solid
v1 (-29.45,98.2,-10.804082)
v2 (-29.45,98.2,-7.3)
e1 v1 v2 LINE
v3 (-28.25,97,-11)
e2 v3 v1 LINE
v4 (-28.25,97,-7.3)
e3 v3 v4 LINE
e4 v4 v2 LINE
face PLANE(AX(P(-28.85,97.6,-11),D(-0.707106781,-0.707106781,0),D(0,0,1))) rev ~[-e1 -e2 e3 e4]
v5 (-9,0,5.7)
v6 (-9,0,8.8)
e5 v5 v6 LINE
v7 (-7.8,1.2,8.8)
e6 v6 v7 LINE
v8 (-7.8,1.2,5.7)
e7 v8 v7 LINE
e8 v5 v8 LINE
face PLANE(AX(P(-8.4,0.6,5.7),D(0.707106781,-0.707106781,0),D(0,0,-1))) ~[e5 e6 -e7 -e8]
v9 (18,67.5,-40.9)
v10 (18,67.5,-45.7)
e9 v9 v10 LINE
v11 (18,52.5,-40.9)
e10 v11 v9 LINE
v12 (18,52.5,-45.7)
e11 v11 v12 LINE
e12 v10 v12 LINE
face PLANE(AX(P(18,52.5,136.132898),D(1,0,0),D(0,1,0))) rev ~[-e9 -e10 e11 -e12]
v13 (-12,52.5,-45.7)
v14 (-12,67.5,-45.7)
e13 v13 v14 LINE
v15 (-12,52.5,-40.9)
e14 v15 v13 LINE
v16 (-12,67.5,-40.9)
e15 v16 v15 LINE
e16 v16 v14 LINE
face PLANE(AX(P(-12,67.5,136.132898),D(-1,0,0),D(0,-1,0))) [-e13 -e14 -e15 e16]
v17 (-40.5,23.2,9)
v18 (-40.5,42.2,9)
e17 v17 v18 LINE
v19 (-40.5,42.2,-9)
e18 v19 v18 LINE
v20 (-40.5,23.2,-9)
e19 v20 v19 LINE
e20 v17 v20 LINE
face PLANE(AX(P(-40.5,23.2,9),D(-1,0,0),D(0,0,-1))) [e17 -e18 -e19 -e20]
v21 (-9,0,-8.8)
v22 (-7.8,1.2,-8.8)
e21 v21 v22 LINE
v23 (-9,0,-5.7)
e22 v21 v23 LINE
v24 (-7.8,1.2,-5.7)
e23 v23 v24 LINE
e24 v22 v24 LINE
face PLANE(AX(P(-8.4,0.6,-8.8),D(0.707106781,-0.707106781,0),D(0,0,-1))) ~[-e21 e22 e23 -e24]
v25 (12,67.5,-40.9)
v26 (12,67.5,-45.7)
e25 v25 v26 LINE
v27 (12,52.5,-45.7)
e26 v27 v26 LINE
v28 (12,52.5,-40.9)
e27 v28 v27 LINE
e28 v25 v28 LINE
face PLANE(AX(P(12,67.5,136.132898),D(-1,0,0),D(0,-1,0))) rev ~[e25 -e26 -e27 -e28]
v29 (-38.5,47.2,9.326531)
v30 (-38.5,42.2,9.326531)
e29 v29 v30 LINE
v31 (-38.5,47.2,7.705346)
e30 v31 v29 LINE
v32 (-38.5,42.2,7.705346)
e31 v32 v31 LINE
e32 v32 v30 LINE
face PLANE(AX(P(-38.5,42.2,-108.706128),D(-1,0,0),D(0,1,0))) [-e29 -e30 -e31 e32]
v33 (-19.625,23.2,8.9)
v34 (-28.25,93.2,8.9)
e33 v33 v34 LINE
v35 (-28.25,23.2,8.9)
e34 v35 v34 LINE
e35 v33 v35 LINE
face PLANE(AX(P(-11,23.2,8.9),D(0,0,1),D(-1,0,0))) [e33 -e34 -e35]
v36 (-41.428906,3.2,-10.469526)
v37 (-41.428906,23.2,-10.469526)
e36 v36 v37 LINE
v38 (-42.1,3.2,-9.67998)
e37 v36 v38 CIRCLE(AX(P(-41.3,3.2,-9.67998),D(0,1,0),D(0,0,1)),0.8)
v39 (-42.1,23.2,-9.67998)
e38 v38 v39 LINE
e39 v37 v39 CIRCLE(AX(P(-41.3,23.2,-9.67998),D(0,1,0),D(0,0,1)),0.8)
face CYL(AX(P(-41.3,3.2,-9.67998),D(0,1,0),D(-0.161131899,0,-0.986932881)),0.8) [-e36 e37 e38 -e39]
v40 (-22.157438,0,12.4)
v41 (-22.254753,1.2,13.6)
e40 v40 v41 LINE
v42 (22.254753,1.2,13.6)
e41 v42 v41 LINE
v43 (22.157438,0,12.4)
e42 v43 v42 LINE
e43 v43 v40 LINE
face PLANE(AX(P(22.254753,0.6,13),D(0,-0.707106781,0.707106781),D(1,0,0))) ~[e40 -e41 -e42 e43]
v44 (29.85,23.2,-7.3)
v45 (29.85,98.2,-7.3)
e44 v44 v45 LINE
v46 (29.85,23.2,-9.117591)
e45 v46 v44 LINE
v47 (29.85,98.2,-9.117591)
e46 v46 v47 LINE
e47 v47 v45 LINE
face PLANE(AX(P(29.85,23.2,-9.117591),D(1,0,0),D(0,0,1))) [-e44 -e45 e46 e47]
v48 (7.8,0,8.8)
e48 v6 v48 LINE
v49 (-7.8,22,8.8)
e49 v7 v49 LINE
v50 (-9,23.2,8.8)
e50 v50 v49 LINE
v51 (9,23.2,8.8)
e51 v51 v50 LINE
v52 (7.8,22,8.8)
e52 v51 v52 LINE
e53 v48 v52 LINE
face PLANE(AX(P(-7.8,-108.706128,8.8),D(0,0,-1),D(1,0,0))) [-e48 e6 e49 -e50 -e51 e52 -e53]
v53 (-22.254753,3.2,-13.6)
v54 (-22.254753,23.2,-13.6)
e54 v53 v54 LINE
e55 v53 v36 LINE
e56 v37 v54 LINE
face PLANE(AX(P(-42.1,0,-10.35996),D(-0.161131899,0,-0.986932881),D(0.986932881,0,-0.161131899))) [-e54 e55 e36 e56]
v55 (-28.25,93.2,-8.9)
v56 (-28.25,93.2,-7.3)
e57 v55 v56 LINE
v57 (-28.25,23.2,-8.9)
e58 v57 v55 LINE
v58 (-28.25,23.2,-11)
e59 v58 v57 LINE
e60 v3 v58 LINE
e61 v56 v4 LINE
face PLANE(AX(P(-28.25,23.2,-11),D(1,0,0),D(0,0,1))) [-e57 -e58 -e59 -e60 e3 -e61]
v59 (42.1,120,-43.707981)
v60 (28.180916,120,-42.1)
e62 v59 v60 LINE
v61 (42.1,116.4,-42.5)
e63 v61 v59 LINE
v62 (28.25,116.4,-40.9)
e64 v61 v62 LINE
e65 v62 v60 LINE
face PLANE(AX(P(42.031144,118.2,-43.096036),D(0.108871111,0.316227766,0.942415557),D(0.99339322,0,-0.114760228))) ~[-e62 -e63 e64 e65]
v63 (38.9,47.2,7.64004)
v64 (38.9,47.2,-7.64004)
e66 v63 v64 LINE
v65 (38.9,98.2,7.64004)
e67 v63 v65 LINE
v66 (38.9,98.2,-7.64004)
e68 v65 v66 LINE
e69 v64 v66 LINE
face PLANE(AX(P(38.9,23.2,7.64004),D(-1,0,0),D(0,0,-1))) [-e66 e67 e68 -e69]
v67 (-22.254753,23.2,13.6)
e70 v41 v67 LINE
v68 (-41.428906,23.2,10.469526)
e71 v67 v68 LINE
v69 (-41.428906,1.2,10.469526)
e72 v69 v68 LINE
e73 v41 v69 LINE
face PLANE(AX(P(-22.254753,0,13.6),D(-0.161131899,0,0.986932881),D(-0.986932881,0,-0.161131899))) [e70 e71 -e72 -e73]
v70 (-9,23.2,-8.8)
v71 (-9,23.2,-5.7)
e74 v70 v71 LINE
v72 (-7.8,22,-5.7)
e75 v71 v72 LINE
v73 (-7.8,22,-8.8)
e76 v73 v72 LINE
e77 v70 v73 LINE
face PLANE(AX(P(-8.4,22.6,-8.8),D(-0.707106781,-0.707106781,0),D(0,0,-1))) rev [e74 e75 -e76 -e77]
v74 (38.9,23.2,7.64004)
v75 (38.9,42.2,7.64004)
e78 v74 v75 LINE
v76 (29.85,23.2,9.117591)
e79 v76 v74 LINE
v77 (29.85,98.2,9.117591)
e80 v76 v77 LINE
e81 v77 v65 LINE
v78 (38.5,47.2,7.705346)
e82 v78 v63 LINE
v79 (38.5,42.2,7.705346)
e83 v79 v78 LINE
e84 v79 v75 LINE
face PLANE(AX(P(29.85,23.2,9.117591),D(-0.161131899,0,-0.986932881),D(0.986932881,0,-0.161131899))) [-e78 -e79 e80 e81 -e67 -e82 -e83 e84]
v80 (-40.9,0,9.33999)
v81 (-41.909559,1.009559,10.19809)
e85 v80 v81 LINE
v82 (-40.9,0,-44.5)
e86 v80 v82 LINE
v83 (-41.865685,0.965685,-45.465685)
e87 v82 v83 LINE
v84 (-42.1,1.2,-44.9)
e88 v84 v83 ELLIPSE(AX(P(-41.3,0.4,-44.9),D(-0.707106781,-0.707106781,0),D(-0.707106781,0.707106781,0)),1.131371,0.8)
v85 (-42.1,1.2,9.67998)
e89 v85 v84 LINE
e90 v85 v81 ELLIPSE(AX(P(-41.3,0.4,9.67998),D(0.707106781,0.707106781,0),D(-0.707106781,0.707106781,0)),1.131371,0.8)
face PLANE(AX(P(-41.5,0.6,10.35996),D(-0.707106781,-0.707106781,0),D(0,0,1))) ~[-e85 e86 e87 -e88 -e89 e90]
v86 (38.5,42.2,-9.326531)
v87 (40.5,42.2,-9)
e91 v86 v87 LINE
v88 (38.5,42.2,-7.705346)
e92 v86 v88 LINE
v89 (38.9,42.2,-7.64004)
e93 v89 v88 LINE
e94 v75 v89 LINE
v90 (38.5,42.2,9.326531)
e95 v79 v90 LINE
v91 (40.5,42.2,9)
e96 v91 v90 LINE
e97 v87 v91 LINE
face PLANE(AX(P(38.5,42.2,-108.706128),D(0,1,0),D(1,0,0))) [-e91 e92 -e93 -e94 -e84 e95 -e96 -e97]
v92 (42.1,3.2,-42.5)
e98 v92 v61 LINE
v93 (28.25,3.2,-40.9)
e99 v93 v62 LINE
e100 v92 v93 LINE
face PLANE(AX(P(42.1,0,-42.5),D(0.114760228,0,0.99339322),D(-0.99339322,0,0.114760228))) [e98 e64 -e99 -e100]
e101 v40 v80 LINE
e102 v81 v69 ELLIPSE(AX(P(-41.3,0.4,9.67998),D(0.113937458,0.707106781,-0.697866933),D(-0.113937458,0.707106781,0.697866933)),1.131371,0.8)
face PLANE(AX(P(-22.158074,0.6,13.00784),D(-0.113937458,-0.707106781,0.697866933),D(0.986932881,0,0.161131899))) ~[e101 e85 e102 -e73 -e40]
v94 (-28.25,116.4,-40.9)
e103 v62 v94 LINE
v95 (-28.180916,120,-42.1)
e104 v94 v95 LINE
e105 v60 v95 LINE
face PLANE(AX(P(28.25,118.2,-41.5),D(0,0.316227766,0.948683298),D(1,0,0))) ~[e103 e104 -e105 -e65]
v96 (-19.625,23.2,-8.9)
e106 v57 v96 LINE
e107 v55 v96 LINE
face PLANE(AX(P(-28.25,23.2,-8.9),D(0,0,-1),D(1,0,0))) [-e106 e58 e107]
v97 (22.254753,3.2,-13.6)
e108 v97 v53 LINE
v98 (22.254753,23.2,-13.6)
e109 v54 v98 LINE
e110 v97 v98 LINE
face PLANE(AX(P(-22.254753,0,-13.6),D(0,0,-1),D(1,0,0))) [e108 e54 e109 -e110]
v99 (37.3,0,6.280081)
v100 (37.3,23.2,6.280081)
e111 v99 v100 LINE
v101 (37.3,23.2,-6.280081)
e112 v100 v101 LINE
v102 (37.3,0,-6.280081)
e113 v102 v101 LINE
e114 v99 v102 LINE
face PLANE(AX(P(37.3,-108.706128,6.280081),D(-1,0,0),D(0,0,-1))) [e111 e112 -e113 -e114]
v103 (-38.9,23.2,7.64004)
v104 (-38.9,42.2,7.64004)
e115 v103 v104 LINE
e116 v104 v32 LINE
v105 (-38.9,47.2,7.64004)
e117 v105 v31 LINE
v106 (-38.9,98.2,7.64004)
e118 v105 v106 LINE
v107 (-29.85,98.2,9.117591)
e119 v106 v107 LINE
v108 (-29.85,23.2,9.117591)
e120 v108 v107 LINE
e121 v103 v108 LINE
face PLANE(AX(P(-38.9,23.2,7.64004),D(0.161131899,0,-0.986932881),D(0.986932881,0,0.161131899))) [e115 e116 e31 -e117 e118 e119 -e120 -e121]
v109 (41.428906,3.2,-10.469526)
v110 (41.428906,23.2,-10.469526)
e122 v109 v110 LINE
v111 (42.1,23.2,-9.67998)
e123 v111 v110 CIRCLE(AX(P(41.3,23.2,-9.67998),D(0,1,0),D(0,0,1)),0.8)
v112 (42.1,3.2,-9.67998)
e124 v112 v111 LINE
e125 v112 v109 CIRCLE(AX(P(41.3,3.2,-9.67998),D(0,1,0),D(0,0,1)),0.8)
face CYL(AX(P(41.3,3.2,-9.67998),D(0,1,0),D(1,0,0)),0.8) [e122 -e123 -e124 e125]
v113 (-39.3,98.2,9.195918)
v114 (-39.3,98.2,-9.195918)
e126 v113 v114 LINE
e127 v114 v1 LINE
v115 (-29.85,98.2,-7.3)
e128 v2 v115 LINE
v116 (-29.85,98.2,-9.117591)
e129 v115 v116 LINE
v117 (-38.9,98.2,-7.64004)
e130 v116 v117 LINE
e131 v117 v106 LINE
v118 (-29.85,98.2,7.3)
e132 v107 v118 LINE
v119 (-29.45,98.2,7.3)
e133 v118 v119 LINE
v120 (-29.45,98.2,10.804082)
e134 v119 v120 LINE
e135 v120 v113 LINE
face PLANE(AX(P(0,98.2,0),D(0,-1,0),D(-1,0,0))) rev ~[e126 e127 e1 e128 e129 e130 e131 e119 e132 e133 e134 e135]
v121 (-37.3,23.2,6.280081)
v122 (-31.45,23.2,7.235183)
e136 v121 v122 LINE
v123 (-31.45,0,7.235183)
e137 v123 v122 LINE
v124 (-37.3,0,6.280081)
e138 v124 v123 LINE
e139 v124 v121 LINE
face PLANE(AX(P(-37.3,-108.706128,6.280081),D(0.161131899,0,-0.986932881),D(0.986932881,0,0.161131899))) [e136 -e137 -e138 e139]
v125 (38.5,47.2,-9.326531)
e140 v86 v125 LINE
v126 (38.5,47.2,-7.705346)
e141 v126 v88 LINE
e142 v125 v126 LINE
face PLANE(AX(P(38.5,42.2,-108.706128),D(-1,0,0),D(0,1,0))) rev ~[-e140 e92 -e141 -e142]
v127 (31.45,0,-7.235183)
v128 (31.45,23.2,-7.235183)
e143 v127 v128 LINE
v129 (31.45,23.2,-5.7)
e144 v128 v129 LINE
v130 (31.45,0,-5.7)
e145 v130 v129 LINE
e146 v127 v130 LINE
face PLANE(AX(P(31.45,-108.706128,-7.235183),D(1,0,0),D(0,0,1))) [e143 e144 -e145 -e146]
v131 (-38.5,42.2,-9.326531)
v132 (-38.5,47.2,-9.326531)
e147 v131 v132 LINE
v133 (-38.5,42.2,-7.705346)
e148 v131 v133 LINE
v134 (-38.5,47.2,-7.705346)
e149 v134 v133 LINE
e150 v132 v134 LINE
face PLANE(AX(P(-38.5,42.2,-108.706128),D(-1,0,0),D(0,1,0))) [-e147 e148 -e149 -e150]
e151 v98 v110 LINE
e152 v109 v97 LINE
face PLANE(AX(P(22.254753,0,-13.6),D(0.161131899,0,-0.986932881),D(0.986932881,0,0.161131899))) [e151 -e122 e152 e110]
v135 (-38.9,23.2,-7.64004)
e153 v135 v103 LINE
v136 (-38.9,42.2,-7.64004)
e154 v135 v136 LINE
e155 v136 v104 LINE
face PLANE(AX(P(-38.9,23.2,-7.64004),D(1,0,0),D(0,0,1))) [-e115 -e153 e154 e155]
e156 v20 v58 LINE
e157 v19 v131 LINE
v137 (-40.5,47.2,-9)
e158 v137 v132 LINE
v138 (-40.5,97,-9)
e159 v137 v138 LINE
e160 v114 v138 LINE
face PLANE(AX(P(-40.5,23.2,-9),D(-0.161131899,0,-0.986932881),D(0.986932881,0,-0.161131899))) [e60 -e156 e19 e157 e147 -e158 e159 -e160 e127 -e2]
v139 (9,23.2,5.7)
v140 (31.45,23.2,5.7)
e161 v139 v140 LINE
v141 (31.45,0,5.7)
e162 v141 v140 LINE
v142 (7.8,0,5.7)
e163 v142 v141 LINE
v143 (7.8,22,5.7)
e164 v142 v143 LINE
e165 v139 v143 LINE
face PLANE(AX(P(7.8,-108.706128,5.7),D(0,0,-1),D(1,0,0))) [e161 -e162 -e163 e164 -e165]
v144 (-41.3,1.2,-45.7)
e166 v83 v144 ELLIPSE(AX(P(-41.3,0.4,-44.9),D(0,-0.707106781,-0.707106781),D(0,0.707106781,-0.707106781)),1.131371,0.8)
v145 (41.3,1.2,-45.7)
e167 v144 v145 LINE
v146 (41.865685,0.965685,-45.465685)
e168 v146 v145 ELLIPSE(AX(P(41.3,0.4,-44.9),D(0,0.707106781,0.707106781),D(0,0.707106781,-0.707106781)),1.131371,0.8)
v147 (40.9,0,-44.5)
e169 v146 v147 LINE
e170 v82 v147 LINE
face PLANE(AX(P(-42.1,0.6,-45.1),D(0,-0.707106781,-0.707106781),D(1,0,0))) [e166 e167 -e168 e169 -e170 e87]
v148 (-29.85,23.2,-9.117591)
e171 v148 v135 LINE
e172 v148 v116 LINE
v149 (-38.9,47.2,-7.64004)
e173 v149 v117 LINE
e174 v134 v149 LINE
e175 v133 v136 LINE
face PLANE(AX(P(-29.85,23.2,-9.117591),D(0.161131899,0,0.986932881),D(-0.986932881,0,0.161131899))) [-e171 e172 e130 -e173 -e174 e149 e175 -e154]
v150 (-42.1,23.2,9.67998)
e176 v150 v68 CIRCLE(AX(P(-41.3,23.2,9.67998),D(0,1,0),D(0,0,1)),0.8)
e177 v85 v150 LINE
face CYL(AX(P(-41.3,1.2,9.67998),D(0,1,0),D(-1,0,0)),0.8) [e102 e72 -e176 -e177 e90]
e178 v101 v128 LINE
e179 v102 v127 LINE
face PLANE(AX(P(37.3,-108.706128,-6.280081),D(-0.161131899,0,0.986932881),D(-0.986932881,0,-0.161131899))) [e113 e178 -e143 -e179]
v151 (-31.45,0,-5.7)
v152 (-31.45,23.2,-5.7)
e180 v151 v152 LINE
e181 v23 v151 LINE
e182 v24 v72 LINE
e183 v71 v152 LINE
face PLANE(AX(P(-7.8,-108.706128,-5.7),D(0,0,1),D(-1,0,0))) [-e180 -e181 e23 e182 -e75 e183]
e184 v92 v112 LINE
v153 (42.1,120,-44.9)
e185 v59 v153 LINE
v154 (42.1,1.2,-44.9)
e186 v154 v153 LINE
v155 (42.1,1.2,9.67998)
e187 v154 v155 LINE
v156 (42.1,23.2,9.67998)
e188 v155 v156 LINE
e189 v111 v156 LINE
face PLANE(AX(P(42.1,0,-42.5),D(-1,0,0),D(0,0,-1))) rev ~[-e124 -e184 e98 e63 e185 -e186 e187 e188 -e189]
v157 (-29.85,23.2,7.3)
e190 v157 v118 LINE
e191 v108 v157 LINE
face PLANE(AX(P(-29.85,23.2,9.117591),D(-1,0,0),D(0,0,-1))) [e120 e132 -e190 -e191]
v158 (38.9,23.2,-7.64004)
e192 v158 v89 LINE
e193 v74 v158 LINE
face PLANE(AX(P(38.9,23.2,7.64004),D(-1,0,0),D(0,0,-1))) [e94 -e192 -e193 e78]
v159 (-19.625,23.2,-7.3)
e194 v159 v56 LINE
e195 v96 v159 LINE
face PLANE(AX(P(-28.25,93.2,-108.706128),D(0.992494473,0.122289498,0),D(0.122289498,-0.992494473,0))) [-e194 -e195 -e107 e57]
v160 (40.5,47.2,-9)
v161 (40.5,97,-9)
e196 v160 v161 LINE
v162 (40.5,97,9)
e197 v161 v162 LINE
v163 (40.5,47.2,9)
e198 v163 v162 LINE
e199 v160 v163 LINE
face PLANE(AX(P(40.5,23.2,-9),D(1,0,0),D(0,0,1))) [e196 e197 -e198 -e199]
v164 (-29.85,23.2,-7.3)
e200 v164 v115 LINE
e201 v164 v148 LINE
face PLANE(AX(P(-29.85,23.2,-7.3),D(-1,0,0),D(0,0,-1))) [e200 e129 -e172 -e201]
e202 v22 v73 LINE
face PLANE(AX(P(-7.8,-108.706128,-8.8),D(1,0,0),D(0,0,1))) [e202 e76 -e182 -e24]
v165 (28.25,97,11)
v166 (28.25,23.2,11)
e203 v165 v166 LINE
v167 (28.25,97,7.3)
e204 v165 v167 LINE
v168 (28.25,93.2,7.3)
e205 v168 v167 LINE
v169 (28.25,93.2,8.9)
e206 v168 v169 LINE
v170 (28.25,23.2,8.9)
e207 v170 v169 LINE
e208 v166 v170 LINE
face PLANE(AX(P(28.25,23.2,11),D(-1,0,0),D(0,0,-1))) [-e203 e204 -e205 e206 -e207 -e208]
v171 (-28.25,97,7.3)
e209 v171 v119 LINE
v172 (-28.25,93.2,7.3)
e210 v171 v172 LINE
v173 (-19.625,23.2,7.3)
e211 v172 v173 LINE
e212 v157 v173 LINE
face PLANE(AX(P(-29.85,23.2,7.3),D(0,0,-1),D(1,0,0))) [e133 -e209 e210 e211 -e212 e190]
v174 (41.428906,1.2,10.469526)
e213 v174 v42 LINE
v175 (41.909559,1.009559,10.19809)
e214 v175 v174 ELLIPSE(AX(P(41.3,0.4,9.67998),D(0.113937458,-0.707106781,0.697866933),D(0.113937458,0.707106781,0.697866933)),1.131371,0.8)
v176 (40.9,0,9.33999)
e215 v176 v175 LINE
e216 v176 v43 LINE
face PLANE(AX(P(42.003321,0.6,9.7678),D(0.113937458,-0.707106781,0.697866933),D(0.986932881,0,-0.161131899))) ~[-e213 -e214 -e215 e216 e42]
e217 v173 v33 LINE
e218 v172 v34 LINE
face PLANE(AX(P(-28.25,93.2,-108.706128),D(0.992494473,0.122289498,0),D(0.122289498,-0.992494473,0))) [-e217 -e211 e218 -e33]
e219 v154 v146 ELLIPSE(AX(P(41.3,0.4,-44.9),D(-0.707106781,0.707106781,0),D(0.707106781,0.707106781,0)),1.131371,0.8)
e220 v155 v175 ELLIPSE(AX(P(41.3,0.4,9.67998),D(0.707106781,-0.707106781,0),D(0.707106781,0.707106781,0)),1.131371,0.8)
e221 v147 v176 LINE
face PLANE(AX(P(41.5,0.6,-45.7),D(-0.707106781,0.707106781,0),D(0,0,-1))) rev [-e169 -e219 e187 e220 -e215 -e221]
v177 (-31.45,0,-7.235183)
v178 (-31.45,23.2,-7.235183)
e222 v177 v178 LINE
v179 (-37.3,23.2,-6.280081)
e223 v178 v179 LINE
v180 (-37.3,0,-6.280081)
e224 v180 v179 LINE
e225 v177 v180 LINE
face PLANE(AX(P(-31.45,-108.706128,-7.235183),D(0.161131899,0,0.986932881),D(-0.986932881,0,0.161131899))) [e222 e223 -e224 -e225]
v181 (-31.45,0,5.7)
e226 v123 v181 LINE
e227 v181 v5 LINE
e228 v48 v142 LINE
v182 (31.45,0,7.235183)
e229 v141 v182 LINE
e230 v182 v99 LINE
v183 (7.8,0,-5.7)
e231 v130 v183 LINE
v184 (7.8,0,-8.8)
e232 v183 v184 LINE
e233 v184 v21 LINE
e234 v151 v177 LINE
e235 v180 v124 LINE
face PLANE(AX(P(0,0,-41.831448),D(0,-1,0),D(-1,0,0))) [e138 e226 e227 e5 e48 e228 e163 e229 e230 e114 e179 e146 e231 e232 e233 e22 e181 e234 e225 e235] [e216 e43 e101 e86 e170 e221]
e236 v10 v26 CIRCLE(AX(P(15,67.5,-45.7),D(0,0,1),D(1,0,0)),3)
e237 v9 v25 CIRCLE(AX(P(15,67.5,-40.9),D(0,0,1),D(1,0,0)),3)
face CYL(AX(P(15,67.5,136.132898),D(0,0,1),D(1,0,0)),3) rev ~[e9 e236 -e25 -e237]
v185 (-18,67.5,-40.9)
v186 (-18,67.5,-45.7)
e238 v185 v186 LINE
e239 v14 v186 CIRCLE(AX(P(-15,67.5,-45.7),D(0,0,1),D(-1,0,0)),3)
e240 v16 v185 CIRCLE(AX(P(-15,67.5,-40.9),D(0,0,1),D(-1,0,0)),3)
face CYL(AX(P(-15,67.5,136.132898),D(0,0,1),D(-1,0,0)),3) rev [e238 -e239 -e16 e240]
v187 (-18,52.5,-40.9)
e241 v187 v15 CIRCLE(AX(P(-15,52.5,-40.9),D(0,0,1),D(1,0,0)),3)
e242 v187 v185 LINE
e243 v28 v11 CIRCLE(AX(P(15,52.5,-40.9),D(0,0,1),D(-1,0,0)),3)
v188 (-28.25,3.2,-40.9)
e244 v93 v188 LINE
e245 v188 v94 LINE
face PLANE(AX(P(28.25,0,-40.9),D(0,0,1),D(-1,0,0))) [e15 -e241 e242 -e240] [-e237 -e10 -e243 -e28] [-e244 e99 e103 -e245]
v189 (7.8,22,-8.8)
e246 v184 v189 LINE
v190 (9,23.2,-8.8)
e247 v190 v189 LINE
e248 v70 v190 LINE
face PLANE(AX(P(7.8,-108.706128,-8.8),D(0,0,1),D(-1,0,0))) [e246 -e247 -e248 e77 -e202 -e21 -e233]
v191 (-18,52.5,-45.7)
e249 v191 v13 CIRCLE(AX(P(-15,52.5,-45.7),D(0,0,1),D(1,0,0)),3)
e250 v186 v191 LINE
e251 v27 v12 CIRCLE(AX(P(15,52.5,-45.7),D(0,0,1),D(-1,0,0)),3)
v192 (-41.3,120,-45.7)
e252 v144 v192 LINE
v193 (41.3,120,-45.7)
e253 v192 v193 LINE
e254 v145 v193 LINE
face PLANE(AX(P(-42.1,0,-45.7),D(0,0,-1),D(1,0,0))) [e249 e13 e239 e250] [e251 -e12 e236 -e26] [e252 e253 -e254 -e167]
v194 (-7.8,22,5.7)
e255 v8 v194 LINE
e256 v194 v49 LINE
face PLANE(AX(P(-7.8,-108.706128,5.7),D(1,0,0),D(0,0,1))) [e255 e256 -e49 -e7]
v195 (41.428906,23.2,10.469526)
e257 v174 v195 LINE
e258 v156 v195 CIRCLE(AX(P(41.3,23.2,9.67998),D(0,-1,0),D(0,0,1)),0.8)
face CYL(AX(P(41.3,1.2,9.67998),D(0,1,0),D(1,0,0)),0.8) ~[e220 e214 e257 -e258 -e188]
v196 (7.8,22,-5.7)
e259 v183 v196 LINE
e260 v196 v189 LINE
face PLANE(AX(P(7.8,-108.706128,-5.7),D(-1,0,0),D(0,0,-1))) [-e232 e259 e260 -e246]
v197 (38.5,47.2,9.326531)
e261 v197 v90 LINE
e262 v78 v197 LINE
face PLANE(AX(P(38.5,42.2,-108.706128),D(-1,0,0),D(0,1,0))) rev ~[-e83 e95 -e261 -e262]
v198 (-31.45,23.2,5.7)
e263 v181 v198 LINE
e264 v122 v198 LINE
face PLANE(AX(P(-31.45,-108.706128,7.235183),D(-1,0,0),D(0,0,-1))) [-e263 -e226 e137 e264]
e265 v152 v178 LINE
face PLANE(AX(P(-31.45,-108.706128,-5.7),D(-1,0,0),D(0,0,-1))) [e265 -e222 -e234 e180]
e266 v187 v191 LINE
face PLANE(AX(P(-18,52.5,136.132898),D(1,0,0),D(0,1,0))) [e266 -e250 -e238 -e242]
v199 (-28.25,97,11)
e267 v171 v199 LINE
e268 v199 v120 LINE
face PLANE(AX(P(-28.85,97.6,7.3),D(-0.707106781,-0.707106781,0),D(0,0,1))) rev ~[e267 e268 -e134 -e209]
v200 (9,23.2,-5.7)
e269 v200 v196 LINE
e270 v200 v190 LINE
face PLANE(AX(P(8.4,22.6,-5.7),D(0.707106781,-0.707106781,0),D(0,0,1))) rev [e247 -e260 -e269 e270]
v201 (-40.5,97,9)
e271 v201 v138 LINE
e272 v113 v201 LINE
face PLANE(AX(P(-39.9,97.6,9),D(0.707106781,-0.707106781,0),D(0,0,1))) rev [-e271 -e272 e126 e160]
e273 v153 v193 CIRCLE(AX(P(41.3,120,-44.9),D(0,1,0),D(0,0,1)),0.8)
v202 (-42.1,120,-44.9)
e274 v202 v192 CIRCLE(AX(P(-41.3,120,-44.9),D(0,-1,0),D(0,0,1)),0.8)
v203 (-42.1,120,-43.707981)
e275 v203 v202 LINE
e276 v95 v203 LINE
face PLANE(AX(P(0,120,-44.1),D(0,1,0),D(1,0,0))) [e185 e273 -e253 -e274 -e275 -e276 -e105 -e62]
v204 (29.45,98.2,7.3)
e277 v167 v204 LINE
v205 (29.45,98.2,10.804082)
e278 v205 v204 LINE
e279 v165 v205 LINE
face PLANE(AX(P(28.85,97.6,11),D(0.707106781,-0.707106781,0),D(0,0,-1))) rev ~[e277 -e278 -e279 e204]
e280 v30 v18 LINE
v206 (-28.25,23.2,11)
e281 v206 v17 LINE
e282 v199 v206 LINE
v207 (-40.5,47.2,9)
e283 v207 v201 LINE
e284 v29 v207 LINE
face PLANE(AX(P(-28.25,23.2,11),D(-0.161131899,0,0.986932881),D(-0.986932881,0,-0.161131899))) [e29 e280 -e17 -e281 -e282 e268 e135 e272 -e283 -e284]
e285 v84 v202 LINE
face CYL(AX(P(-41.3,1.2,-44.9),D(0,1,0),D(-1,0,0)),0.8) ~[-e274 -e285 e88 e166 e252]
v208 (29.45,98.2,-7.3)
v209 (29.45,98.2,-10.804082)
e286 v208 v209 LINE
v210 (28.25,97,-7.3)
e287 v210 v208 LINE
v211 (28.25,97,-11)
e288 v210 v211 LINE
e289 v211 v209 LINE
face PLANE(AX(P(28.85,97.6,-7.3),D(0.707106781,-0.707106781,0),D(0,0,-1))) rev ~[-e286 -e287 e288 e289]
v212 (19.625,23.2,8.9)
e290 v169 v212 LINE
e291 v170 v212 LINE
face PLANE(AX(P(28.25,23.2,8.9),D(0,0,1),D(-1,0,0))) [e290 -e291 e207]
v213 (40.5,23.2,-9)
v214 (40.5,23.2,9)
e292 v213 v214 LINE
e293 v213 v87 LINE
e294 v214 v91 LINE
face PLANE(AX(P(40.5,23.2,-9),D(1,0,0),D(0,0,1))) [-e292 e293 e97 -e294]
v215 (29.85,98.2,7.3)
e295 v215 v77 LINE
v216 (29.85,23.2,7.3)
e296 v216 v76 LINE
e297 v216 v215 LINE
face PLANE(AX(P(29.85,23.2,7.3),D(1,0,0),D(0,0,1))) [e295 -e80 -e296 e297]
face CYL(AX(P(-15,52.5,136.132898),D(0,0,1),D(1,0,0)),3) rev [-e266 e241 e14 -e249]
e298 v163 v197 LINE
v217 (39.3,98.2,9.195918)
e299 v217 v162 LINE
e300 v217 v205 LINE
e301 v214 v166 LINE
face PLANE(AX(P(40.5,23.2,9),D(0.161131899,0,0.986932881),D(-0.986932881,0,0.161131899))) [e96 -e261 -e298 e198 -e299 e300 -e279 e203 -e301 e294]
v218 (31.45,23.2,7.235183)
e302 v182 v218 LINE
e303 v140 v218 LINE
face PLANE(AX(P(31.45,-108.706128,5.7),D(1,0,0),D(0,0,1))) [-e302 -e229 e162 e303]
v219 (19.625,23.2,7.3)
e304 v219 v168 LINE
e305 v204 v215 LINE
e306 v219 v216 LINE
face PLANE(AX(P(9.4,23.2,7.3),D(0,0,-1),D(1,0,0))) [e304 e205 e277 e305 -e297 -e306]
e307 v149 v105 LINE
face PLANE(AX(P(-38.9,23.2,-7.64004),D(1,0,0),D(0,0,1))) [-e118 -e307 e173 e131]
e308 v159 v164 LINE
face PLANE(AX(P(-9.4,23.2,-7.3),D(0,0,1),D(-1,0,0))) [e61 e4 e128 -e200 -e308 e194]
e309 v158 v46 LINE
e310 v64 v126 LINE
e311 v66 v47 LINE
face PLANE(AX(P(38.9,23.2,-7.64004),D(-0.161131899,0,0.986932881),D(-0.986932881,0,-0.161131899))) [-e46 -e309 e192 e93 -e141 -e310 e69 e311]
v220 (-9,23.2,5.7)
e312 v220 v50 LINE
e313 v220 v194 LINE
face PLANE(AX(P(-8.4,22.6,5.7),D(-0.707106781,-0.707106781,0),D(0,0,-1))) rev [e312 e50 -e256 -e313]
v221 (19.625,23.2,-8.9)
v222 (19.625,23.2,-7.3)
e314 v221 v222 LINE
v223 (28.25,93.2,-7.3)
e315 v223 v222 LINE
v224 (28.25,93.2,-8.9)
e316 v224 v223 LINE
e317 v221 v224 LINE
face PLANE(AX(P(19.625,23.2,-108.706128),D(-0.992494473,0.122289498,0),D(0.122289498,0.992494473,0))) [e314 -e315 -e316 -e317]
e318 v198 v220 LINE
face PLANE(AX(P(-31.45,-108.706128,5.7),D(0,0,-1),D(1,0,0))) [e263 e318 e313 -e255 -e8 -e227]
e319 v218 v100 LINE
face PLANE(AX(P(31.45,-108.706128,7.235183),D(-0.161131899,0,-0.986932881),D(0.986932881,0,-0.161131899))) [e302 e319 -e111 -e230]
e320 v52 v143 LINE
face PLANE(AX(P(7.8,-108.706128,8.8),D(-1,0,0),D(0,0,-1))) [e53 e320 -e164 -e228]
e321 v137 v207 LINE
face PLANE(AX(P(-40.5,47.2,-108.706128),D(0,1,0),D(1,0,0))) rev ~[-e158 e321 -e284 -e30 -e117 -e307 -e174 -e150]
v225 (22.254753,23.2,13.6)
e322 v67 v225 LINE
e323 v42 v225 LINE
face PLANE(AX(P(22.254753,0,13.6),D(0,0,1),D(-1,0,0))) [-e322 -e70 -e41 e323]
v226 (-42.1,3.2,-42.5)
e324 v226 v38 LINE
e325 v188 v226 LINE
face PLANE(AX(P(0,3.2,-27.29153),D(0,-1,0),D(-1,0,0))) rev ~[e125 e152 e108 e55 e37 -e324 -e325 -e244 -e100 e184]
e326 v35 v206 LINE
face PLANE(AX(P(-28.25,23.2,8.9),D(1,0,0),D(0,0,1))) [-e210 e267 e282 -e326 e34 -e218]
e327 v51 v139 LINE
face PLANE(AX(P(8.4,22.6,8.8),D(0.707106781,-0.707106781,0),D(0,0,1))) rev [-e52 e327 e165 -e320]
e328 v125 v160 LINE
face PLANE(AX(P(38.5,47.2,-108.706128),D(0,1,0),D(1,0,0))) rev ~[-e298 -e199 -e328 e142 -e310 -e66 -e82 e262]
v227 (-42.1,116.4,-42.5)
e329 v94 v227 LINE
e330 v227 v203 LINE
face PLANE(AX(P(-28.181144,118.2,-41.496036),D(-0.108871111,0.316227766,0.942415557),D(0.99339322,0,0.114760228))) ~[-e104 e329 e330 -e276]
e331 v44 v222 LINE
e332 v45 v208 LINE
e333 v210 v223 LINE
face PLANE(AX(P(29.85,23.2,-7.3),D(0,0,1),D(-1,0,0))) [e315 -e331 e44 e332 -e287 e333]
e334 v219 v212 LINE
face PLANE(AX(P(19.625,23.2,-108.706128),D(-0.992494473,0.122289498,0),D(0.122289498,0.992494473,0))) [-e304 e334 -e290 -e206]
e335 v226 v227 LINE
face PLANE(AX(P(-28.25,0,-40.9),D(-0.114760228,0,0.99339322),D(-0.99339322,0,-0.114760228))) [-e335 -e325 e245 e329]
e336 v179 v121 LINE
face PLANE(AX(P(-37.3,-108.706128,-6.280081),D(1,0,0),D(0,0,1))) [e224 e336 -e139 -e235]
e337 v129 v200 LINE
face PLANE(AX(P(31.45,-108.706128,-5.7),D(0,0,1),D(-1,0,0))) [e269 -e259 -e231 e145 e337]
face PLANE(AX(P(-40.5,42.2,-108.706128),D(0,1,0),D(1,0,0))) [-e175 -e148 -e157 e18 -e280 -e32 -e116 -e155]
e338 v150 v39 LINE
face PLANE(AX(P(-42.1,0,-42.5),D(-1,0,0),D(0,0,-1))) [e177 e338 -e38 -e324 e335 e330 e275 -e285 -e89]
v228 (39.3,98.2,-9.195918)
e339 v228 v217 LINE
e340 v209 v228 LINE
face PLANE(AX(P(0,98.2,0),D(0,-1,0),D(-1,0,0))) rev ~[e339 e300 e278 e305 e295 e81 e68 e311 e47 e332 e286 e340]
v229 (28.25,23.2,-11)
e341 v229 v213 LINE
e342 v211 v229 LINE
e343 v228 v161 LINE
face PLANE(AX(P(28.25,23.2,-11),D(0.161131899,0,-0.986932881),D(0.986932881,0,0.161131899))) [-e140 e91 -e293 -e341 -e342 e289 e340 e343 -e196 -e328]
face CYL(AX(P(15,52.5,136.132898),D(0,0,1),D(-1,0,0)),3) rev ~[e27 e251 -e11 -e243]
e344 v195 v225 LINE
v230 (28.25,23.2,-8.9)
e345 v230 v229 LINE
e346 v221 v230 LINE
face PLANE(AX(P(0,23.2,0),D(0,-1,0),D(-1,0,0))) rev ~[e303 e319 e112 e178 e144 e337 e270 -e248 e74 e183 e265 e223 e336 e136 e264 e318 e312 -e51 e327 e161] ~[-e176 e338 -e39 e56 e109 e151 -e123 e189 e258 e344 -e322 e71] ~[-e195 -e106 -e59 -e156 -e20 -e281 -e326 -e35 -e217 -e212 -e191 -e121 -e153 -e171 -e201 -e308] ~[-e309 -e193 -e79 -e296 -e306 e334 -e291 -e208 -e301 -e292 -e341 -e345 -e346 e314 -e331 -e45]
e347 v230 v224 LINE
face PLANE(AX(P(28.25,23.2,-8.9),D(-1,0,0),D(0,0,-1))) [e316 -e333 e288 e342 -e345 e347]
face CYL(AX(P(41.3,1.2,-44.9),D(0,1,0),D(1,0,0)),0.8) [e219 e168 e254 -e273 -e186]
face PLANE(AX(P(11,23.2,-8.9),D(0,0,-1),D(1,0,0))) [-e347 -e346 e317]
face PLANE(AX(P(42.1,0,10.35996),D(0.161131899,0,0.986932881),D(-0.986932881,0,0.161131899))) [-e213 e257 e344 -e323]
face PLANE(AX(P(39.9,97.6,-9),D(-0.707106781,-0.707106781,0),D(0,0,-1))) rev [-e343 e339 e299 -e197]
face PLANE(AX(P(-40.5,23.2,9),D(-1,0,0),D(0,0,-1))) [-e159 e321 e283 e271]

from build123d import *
from OCP.BRepFilletAPI import BRepFilletAPI_MakeChamfer

# Parameters (mm, degrees)
BOSS_EXTRUDE1_DEPTH     = 23.2
BOSS_EXTRUDE2_START     = 23.2
BOSS_EXTRUDE2_DEPTH     = 75
CUT_EXTRUDE1_DEPTH      = 108.706127959
CUT_EXTRUDE1_DEPTH_BACK = 108.706127959
SKETCH2_W               = 2
SKETCH2_H               = 5
CUT_EXTRUDE2_DEPTH      = 108.706127959
CUT_EXTRUDE2_DEPTH_BACK = 108.706127959
CUT_EXTRUDE3_DEPTH      = 108.706127959
CUT_EXTRUDE3_DEPTH_BACK = 108.706127959
BOSS_EXTRUDE3_DEPTH     = 3.2
SKETCH5_W               = 84.2
SKETCH5_H               = 3.2
BOSS_EXTRUDE4_DEPTH     = 120
BOSS_EXTRUDE5_DEPTH     = 120
CUT_EXTRUDE4_DEPTH      = 136.132897549
CUT_EXTRUDE4_DEPTH_BACK = 136.132897549
CHAMFER1_SIZE           = 3.6
CHAMFER1_SIZE2          = 1.2
CHAMFER2_SIZE           = 1.2
FILLET1_R               = 0.8


with BuildPart() as part:
    # Sketch1 → Boss-Extrude1 (new body)
    with BuildSketch(Plane(origin=(0, 0, 0), x_dir=(1, 0, 0), z_dir=(0, 1, 0))):
        Polygon((-22.25475327, 13.6), (22.25475327, 13.6), (42.1, 10.359959718), (42.1, -10.359959718), (22.25475327, -13.6), (-22.25475327, -13.6), (-42.1, -10.359959718), (-42.1, 10.359959718), align=None)
    extrude(amount=BOSS_EXTRUDE1_DEPTH)

    # Sketch1<3> → Boss-Extrude2 (add)
    with BuildSketch(Plane(origin=(0, 0, 0), x_dir=(1, 0, 0), z_dir=(0, 1, 0)).offset(BOSS_EXTRUDE2_START)):
        Polygon((40.5, -9), (28.25, -11), (28.25, -8.9), (11, -8.9), (11, -12), (-11, -12), (-11, -8.9), (-28.25, -8.9), (-28.25, -11), (-40.5, -9), (-40.5, 9), (-28.25, 11), (-28.25, 8.9), (-11, 8.9), (-11, 12), (11, 12), (11, 8.9), (28.25, 8.9), (28.25, 11), (40.5, 9), align=None)
        Polygon((-38.9, -7.640040282), (-29.85, -9.117591303), (-29.85, -7.3), (-9.4, -7.3), (-9.4, -10.4), (9.4, -10.4), (9.4, -7.3), (29.85, -7.3), (29.85, -9.117591303), (38.9, -7.640040282), (38.9, 7.640040282), (29.85, 9.117591303), (29.85, 7.3), (9.4, 7.3), (9.4, 10.4), (-9.4, 10.4), (-9.4, 7.3), (-29.85, 7.3), (-29.85, 9.117591303), (-38.9, 7.640040282), align=None, mode=Mode.SUBTRACT)
    extrude(amount=BOSS_EXTRUDE2_DEPTH)

    # Sketch2 → Cut-Extrude1 (cut, two sides: drawn at the far end of the back side and taken through both)
    with BuildSketch(Plane.XY.offset(-CUT_EXTRUDE1_DEPTH_BACK)):
        with Locations((-39.5, 44.7)):
            Rectangle(SKETCH2_W, SKETCH2_H)
        with Locations((39.5, 44.7)):
            Rectangle(SKETCH2_W, SKETCH2_H)
    extrude(amount=CUT_EXTRUDE1_DEPTH + CUT_EXTRUDE1_DEPTH_BACK, mode=Mode.SUBTRACT)

    # Sketch3 → Cut-Extrude2 (cut, two sides: drawn at the far end of the back side and taken through both)
    with BuildSketch(Plane.XY.offset(-CUT_EXTRUDE2_DEPTH_BACK)):
        Polygon((-28.25, 93.2), (-19.625, 23.2), (19.625, 23.2), (28.25, 93.2), (28.25, 98.2), (-28.25, 98.2), align=None)
    extrude(amount=CUT_EXTRUDE2_DEPTH + CUT_EXTRUDE2_DEPTH_BACK, mode=Mode.SUBTRACT)

    # Sketch1<4> → Cut-Extrude3 (cut, two sides: drawn at the far end of the back side and taken through both)
    with BuildSketch(Plane(origin=(0, 0, 0), x_dir=(1, 0, 0), z_dir=(0, 1, 0)).offset(-CUT_EXTRUDE3_DEPTH_BACK)):
        Polygon((-31.45, -5.7), (-7.8, -5.7), (-7.8, -8.8), (7.8, -8.8), (7.8, -5.7), (31.45, -5.7), (31.45, -7.235182606), (37.3, -6.280080565), (37.3, 6.280080565), (31.45, 7.235182606), (31.45, 5.7), (7.8, 5.7), (7.8, 8.8), (-7.8, 8.8), (-7.8, 5.7), (-31.45, 5.7), (-31.45, 7.235182606), (-37.3, 6.280080565), (-37.3, -6.280080565), (-31.45, -7.235182606), align=None)
    extrude(amount=CUT_EXTRUDE3_DEPTH + CUT_EXTRUDE3_DEPTH_BACK, mode=Mode.SUBTRACT)

    # Sketch4 → Boss-Extrude3 (add)
    with BuildSketch(Plane(origin=(0, 0, 0), x_dir=(1, 0, 0), z_dir=(0, 1, 0))):
        Polygon((42.1, 10.359959718), (22.25475327, 13.6), (-22.25475327, 13.6), (-42.1, 10.359959718), (-42.1, 42.5), (42.1, 42.5), align=None)
    extrude(amount=BOSS_EXTRUDE3_DEPTH)

    # Sketch5 → Boss-Extrude4 (add)
    with BuildSketch(Plane(origin=(0, 0, 0), x_dir=(1, 0, 0), z_dir=(0, 1, 0))):
        with Locations((0, 44.1)):
            Rectangle(SKETCH5_W, SKETCH5_H)
    extrude(amount=BOSS_EXTRUDE4_DEPTH)

    # Sketch6 → Boss-Extrude5 (add)
    with BuildSketch(Plane(origin=(0, 0, 0), x_dir=(1, 0, 0), z_dir=(0, 1, 0))):
        Polygon((-42.1, 42.5), (42.1, 42.5), (28.25, 40.9), (-28.25, 40.9), align=None)
    extrude(amount=BOSS_EXTRUDE5_DEPTH)

    # Sketch7 → Cut-Extrude4 (cut, two sides: drawn at the far end of the back side and taken through both)
    with BuildSketch(Plane(origin=(0, 0, 0), x_dir=(-1, 0, 0), z_dir=(0, 0, -1)).offset(-CUT_EXTRUDE4_DEPTH_BACK)):
        with BuildLine():
            Line((-12, 67.5), (-12, 52.5))
            ThreePointArc((-12, 52.5), (-15, 49.5), (-18, 52.5))
            Line((-18, 52.5), (-18, 67.5))
            ThreePointArc((-18, 67.5), (-15, 70.5), (-12, 67.5))
        make_face()
        with BuildLine():
            Line((12, 67.5), (12, 52.5))
            ThreePointArc((12, 52.5), (15, 49.5), (18, 52.5))
            Line((18, 52.5), (18, 67.5))
            ThreePointArc((18, 67.5), (15, 70.5), (12, 67.5))
        make_face()
    extrude(amount=CUT_EXTRUDE4_DEPTH + CUT_EXTRUDE4_DEPTH_BACK, mode=Mode.SUBTRACT)

    # Chamfer1: one chamfer whose edges measure the first distance from different faces: ONE call of the kernel's chamfer builder (chamfer() names one face for all edges)
    chamfer1_edges_1 = [part.edges().sort_by_distance(p)[0] for p in [
        (35.175, 120, -41.7),
    ]]
    chamfer1_side_1 = [part.faces().sort_by_distance(p)[0] for p in [
        (35.175, 61.6, -41.7),
    ]]
    chamfer1_edges_2 = [part.edges().sort_by_distance(p)[0] for p in [
        (0, 120, -40.9),
    ]]
    chamfer1_side_2 = [part.faces().sort_by_distance(p)[0] for p in [
        (0, 61.659484301, -40.9),
    ]]
    chamfer1_edges_3 = [part.edges().sort_by_distance(p)[0] for p in [
        (-35.175, 120, -41.7),
    ]]
    chamfer1_side_3 = [part.faces().sort_by_distance(p)[0] for p in [
        (-35.175, 61.6, -41.7),
    ]]
    chamfer1 = BRepFilletAPI_MakeChamfer(part.part.solid().wrapped)
    for e in chamfer1_edges_1:
        chamfer1.Add(CHAMFER1_SIZE, CHAMFER1_SIZE2, e.wrapped, chamfer1_side_1[0].wrapped)  # the first distance lies on this face
    for e in chamfer1_edges_2:
        chamfer1.Add(CHAMFER1_SIZE, CHAMFER1_SIZE2, e.wrapped, chamfer1_side_2[0].wrapped)  # the first distance lies on this face
    for e in chamfer1_edges_3:
        chamfer1.Add(CHAMFER1_SIZE, CHAMFER1_SIZE2, e.wrapped, chamfer1_side_3[0].wrapped)  # the first distance lies on this face
    add(Compound.cast(chamfer1.Shape()), mode=Mode.REPLACE)

    # Chamfer2
    chamfer2_edges = [part.edges().sort_by_distance(p)[0] for p in [
        (-42.1, 0, -17.670020141),
        (-7.8, 23.2, 7.25),
        (7.8, 23.2, 7.25),
        (7.8, 23.2, -7.25),
        (-7.8, 23.2, -7.25),
        (-7.8, 0, -7.25),
        (-7.8, 0, 7.25),
        (40.5, 98.2, 0),
        (28.25, 98.2, -9.15),
        (0, 0, -45.7),
        (-28.25, 98.2, 9.15),
        (28.25, 98.2, 9.15),
        (-28.25, 98.2, -9.15),
        (-40.5, 98.2, 0),
        (-32.177376635, 0, 11.979979859),
        (0, 0, 13.6),
        (32.177376635, 0, 11.979979859),
        (42.1, 0, -17.670020141),
    ]]
    chamfer(chamfer2_edges, length=CHAMFER2_SIZE)

    # Fillet1
    fillet1_edges = [part.edges().sort_by_distance(p)[0] for p in [
        (-42.1, 12.2, 10.359959718),
        (42.1, 12.2, 10.359959718),
        (42.1, 13.2, -10.359959718),
        (-42.1, 13.2, -10.359959718),
        (-42.1, 60.6, -45.7),
        (42.1, 60.6, -45.7),
    ]]
    fillet(fillet1_edges, radius=FILLET1_R)


solid = part.part
